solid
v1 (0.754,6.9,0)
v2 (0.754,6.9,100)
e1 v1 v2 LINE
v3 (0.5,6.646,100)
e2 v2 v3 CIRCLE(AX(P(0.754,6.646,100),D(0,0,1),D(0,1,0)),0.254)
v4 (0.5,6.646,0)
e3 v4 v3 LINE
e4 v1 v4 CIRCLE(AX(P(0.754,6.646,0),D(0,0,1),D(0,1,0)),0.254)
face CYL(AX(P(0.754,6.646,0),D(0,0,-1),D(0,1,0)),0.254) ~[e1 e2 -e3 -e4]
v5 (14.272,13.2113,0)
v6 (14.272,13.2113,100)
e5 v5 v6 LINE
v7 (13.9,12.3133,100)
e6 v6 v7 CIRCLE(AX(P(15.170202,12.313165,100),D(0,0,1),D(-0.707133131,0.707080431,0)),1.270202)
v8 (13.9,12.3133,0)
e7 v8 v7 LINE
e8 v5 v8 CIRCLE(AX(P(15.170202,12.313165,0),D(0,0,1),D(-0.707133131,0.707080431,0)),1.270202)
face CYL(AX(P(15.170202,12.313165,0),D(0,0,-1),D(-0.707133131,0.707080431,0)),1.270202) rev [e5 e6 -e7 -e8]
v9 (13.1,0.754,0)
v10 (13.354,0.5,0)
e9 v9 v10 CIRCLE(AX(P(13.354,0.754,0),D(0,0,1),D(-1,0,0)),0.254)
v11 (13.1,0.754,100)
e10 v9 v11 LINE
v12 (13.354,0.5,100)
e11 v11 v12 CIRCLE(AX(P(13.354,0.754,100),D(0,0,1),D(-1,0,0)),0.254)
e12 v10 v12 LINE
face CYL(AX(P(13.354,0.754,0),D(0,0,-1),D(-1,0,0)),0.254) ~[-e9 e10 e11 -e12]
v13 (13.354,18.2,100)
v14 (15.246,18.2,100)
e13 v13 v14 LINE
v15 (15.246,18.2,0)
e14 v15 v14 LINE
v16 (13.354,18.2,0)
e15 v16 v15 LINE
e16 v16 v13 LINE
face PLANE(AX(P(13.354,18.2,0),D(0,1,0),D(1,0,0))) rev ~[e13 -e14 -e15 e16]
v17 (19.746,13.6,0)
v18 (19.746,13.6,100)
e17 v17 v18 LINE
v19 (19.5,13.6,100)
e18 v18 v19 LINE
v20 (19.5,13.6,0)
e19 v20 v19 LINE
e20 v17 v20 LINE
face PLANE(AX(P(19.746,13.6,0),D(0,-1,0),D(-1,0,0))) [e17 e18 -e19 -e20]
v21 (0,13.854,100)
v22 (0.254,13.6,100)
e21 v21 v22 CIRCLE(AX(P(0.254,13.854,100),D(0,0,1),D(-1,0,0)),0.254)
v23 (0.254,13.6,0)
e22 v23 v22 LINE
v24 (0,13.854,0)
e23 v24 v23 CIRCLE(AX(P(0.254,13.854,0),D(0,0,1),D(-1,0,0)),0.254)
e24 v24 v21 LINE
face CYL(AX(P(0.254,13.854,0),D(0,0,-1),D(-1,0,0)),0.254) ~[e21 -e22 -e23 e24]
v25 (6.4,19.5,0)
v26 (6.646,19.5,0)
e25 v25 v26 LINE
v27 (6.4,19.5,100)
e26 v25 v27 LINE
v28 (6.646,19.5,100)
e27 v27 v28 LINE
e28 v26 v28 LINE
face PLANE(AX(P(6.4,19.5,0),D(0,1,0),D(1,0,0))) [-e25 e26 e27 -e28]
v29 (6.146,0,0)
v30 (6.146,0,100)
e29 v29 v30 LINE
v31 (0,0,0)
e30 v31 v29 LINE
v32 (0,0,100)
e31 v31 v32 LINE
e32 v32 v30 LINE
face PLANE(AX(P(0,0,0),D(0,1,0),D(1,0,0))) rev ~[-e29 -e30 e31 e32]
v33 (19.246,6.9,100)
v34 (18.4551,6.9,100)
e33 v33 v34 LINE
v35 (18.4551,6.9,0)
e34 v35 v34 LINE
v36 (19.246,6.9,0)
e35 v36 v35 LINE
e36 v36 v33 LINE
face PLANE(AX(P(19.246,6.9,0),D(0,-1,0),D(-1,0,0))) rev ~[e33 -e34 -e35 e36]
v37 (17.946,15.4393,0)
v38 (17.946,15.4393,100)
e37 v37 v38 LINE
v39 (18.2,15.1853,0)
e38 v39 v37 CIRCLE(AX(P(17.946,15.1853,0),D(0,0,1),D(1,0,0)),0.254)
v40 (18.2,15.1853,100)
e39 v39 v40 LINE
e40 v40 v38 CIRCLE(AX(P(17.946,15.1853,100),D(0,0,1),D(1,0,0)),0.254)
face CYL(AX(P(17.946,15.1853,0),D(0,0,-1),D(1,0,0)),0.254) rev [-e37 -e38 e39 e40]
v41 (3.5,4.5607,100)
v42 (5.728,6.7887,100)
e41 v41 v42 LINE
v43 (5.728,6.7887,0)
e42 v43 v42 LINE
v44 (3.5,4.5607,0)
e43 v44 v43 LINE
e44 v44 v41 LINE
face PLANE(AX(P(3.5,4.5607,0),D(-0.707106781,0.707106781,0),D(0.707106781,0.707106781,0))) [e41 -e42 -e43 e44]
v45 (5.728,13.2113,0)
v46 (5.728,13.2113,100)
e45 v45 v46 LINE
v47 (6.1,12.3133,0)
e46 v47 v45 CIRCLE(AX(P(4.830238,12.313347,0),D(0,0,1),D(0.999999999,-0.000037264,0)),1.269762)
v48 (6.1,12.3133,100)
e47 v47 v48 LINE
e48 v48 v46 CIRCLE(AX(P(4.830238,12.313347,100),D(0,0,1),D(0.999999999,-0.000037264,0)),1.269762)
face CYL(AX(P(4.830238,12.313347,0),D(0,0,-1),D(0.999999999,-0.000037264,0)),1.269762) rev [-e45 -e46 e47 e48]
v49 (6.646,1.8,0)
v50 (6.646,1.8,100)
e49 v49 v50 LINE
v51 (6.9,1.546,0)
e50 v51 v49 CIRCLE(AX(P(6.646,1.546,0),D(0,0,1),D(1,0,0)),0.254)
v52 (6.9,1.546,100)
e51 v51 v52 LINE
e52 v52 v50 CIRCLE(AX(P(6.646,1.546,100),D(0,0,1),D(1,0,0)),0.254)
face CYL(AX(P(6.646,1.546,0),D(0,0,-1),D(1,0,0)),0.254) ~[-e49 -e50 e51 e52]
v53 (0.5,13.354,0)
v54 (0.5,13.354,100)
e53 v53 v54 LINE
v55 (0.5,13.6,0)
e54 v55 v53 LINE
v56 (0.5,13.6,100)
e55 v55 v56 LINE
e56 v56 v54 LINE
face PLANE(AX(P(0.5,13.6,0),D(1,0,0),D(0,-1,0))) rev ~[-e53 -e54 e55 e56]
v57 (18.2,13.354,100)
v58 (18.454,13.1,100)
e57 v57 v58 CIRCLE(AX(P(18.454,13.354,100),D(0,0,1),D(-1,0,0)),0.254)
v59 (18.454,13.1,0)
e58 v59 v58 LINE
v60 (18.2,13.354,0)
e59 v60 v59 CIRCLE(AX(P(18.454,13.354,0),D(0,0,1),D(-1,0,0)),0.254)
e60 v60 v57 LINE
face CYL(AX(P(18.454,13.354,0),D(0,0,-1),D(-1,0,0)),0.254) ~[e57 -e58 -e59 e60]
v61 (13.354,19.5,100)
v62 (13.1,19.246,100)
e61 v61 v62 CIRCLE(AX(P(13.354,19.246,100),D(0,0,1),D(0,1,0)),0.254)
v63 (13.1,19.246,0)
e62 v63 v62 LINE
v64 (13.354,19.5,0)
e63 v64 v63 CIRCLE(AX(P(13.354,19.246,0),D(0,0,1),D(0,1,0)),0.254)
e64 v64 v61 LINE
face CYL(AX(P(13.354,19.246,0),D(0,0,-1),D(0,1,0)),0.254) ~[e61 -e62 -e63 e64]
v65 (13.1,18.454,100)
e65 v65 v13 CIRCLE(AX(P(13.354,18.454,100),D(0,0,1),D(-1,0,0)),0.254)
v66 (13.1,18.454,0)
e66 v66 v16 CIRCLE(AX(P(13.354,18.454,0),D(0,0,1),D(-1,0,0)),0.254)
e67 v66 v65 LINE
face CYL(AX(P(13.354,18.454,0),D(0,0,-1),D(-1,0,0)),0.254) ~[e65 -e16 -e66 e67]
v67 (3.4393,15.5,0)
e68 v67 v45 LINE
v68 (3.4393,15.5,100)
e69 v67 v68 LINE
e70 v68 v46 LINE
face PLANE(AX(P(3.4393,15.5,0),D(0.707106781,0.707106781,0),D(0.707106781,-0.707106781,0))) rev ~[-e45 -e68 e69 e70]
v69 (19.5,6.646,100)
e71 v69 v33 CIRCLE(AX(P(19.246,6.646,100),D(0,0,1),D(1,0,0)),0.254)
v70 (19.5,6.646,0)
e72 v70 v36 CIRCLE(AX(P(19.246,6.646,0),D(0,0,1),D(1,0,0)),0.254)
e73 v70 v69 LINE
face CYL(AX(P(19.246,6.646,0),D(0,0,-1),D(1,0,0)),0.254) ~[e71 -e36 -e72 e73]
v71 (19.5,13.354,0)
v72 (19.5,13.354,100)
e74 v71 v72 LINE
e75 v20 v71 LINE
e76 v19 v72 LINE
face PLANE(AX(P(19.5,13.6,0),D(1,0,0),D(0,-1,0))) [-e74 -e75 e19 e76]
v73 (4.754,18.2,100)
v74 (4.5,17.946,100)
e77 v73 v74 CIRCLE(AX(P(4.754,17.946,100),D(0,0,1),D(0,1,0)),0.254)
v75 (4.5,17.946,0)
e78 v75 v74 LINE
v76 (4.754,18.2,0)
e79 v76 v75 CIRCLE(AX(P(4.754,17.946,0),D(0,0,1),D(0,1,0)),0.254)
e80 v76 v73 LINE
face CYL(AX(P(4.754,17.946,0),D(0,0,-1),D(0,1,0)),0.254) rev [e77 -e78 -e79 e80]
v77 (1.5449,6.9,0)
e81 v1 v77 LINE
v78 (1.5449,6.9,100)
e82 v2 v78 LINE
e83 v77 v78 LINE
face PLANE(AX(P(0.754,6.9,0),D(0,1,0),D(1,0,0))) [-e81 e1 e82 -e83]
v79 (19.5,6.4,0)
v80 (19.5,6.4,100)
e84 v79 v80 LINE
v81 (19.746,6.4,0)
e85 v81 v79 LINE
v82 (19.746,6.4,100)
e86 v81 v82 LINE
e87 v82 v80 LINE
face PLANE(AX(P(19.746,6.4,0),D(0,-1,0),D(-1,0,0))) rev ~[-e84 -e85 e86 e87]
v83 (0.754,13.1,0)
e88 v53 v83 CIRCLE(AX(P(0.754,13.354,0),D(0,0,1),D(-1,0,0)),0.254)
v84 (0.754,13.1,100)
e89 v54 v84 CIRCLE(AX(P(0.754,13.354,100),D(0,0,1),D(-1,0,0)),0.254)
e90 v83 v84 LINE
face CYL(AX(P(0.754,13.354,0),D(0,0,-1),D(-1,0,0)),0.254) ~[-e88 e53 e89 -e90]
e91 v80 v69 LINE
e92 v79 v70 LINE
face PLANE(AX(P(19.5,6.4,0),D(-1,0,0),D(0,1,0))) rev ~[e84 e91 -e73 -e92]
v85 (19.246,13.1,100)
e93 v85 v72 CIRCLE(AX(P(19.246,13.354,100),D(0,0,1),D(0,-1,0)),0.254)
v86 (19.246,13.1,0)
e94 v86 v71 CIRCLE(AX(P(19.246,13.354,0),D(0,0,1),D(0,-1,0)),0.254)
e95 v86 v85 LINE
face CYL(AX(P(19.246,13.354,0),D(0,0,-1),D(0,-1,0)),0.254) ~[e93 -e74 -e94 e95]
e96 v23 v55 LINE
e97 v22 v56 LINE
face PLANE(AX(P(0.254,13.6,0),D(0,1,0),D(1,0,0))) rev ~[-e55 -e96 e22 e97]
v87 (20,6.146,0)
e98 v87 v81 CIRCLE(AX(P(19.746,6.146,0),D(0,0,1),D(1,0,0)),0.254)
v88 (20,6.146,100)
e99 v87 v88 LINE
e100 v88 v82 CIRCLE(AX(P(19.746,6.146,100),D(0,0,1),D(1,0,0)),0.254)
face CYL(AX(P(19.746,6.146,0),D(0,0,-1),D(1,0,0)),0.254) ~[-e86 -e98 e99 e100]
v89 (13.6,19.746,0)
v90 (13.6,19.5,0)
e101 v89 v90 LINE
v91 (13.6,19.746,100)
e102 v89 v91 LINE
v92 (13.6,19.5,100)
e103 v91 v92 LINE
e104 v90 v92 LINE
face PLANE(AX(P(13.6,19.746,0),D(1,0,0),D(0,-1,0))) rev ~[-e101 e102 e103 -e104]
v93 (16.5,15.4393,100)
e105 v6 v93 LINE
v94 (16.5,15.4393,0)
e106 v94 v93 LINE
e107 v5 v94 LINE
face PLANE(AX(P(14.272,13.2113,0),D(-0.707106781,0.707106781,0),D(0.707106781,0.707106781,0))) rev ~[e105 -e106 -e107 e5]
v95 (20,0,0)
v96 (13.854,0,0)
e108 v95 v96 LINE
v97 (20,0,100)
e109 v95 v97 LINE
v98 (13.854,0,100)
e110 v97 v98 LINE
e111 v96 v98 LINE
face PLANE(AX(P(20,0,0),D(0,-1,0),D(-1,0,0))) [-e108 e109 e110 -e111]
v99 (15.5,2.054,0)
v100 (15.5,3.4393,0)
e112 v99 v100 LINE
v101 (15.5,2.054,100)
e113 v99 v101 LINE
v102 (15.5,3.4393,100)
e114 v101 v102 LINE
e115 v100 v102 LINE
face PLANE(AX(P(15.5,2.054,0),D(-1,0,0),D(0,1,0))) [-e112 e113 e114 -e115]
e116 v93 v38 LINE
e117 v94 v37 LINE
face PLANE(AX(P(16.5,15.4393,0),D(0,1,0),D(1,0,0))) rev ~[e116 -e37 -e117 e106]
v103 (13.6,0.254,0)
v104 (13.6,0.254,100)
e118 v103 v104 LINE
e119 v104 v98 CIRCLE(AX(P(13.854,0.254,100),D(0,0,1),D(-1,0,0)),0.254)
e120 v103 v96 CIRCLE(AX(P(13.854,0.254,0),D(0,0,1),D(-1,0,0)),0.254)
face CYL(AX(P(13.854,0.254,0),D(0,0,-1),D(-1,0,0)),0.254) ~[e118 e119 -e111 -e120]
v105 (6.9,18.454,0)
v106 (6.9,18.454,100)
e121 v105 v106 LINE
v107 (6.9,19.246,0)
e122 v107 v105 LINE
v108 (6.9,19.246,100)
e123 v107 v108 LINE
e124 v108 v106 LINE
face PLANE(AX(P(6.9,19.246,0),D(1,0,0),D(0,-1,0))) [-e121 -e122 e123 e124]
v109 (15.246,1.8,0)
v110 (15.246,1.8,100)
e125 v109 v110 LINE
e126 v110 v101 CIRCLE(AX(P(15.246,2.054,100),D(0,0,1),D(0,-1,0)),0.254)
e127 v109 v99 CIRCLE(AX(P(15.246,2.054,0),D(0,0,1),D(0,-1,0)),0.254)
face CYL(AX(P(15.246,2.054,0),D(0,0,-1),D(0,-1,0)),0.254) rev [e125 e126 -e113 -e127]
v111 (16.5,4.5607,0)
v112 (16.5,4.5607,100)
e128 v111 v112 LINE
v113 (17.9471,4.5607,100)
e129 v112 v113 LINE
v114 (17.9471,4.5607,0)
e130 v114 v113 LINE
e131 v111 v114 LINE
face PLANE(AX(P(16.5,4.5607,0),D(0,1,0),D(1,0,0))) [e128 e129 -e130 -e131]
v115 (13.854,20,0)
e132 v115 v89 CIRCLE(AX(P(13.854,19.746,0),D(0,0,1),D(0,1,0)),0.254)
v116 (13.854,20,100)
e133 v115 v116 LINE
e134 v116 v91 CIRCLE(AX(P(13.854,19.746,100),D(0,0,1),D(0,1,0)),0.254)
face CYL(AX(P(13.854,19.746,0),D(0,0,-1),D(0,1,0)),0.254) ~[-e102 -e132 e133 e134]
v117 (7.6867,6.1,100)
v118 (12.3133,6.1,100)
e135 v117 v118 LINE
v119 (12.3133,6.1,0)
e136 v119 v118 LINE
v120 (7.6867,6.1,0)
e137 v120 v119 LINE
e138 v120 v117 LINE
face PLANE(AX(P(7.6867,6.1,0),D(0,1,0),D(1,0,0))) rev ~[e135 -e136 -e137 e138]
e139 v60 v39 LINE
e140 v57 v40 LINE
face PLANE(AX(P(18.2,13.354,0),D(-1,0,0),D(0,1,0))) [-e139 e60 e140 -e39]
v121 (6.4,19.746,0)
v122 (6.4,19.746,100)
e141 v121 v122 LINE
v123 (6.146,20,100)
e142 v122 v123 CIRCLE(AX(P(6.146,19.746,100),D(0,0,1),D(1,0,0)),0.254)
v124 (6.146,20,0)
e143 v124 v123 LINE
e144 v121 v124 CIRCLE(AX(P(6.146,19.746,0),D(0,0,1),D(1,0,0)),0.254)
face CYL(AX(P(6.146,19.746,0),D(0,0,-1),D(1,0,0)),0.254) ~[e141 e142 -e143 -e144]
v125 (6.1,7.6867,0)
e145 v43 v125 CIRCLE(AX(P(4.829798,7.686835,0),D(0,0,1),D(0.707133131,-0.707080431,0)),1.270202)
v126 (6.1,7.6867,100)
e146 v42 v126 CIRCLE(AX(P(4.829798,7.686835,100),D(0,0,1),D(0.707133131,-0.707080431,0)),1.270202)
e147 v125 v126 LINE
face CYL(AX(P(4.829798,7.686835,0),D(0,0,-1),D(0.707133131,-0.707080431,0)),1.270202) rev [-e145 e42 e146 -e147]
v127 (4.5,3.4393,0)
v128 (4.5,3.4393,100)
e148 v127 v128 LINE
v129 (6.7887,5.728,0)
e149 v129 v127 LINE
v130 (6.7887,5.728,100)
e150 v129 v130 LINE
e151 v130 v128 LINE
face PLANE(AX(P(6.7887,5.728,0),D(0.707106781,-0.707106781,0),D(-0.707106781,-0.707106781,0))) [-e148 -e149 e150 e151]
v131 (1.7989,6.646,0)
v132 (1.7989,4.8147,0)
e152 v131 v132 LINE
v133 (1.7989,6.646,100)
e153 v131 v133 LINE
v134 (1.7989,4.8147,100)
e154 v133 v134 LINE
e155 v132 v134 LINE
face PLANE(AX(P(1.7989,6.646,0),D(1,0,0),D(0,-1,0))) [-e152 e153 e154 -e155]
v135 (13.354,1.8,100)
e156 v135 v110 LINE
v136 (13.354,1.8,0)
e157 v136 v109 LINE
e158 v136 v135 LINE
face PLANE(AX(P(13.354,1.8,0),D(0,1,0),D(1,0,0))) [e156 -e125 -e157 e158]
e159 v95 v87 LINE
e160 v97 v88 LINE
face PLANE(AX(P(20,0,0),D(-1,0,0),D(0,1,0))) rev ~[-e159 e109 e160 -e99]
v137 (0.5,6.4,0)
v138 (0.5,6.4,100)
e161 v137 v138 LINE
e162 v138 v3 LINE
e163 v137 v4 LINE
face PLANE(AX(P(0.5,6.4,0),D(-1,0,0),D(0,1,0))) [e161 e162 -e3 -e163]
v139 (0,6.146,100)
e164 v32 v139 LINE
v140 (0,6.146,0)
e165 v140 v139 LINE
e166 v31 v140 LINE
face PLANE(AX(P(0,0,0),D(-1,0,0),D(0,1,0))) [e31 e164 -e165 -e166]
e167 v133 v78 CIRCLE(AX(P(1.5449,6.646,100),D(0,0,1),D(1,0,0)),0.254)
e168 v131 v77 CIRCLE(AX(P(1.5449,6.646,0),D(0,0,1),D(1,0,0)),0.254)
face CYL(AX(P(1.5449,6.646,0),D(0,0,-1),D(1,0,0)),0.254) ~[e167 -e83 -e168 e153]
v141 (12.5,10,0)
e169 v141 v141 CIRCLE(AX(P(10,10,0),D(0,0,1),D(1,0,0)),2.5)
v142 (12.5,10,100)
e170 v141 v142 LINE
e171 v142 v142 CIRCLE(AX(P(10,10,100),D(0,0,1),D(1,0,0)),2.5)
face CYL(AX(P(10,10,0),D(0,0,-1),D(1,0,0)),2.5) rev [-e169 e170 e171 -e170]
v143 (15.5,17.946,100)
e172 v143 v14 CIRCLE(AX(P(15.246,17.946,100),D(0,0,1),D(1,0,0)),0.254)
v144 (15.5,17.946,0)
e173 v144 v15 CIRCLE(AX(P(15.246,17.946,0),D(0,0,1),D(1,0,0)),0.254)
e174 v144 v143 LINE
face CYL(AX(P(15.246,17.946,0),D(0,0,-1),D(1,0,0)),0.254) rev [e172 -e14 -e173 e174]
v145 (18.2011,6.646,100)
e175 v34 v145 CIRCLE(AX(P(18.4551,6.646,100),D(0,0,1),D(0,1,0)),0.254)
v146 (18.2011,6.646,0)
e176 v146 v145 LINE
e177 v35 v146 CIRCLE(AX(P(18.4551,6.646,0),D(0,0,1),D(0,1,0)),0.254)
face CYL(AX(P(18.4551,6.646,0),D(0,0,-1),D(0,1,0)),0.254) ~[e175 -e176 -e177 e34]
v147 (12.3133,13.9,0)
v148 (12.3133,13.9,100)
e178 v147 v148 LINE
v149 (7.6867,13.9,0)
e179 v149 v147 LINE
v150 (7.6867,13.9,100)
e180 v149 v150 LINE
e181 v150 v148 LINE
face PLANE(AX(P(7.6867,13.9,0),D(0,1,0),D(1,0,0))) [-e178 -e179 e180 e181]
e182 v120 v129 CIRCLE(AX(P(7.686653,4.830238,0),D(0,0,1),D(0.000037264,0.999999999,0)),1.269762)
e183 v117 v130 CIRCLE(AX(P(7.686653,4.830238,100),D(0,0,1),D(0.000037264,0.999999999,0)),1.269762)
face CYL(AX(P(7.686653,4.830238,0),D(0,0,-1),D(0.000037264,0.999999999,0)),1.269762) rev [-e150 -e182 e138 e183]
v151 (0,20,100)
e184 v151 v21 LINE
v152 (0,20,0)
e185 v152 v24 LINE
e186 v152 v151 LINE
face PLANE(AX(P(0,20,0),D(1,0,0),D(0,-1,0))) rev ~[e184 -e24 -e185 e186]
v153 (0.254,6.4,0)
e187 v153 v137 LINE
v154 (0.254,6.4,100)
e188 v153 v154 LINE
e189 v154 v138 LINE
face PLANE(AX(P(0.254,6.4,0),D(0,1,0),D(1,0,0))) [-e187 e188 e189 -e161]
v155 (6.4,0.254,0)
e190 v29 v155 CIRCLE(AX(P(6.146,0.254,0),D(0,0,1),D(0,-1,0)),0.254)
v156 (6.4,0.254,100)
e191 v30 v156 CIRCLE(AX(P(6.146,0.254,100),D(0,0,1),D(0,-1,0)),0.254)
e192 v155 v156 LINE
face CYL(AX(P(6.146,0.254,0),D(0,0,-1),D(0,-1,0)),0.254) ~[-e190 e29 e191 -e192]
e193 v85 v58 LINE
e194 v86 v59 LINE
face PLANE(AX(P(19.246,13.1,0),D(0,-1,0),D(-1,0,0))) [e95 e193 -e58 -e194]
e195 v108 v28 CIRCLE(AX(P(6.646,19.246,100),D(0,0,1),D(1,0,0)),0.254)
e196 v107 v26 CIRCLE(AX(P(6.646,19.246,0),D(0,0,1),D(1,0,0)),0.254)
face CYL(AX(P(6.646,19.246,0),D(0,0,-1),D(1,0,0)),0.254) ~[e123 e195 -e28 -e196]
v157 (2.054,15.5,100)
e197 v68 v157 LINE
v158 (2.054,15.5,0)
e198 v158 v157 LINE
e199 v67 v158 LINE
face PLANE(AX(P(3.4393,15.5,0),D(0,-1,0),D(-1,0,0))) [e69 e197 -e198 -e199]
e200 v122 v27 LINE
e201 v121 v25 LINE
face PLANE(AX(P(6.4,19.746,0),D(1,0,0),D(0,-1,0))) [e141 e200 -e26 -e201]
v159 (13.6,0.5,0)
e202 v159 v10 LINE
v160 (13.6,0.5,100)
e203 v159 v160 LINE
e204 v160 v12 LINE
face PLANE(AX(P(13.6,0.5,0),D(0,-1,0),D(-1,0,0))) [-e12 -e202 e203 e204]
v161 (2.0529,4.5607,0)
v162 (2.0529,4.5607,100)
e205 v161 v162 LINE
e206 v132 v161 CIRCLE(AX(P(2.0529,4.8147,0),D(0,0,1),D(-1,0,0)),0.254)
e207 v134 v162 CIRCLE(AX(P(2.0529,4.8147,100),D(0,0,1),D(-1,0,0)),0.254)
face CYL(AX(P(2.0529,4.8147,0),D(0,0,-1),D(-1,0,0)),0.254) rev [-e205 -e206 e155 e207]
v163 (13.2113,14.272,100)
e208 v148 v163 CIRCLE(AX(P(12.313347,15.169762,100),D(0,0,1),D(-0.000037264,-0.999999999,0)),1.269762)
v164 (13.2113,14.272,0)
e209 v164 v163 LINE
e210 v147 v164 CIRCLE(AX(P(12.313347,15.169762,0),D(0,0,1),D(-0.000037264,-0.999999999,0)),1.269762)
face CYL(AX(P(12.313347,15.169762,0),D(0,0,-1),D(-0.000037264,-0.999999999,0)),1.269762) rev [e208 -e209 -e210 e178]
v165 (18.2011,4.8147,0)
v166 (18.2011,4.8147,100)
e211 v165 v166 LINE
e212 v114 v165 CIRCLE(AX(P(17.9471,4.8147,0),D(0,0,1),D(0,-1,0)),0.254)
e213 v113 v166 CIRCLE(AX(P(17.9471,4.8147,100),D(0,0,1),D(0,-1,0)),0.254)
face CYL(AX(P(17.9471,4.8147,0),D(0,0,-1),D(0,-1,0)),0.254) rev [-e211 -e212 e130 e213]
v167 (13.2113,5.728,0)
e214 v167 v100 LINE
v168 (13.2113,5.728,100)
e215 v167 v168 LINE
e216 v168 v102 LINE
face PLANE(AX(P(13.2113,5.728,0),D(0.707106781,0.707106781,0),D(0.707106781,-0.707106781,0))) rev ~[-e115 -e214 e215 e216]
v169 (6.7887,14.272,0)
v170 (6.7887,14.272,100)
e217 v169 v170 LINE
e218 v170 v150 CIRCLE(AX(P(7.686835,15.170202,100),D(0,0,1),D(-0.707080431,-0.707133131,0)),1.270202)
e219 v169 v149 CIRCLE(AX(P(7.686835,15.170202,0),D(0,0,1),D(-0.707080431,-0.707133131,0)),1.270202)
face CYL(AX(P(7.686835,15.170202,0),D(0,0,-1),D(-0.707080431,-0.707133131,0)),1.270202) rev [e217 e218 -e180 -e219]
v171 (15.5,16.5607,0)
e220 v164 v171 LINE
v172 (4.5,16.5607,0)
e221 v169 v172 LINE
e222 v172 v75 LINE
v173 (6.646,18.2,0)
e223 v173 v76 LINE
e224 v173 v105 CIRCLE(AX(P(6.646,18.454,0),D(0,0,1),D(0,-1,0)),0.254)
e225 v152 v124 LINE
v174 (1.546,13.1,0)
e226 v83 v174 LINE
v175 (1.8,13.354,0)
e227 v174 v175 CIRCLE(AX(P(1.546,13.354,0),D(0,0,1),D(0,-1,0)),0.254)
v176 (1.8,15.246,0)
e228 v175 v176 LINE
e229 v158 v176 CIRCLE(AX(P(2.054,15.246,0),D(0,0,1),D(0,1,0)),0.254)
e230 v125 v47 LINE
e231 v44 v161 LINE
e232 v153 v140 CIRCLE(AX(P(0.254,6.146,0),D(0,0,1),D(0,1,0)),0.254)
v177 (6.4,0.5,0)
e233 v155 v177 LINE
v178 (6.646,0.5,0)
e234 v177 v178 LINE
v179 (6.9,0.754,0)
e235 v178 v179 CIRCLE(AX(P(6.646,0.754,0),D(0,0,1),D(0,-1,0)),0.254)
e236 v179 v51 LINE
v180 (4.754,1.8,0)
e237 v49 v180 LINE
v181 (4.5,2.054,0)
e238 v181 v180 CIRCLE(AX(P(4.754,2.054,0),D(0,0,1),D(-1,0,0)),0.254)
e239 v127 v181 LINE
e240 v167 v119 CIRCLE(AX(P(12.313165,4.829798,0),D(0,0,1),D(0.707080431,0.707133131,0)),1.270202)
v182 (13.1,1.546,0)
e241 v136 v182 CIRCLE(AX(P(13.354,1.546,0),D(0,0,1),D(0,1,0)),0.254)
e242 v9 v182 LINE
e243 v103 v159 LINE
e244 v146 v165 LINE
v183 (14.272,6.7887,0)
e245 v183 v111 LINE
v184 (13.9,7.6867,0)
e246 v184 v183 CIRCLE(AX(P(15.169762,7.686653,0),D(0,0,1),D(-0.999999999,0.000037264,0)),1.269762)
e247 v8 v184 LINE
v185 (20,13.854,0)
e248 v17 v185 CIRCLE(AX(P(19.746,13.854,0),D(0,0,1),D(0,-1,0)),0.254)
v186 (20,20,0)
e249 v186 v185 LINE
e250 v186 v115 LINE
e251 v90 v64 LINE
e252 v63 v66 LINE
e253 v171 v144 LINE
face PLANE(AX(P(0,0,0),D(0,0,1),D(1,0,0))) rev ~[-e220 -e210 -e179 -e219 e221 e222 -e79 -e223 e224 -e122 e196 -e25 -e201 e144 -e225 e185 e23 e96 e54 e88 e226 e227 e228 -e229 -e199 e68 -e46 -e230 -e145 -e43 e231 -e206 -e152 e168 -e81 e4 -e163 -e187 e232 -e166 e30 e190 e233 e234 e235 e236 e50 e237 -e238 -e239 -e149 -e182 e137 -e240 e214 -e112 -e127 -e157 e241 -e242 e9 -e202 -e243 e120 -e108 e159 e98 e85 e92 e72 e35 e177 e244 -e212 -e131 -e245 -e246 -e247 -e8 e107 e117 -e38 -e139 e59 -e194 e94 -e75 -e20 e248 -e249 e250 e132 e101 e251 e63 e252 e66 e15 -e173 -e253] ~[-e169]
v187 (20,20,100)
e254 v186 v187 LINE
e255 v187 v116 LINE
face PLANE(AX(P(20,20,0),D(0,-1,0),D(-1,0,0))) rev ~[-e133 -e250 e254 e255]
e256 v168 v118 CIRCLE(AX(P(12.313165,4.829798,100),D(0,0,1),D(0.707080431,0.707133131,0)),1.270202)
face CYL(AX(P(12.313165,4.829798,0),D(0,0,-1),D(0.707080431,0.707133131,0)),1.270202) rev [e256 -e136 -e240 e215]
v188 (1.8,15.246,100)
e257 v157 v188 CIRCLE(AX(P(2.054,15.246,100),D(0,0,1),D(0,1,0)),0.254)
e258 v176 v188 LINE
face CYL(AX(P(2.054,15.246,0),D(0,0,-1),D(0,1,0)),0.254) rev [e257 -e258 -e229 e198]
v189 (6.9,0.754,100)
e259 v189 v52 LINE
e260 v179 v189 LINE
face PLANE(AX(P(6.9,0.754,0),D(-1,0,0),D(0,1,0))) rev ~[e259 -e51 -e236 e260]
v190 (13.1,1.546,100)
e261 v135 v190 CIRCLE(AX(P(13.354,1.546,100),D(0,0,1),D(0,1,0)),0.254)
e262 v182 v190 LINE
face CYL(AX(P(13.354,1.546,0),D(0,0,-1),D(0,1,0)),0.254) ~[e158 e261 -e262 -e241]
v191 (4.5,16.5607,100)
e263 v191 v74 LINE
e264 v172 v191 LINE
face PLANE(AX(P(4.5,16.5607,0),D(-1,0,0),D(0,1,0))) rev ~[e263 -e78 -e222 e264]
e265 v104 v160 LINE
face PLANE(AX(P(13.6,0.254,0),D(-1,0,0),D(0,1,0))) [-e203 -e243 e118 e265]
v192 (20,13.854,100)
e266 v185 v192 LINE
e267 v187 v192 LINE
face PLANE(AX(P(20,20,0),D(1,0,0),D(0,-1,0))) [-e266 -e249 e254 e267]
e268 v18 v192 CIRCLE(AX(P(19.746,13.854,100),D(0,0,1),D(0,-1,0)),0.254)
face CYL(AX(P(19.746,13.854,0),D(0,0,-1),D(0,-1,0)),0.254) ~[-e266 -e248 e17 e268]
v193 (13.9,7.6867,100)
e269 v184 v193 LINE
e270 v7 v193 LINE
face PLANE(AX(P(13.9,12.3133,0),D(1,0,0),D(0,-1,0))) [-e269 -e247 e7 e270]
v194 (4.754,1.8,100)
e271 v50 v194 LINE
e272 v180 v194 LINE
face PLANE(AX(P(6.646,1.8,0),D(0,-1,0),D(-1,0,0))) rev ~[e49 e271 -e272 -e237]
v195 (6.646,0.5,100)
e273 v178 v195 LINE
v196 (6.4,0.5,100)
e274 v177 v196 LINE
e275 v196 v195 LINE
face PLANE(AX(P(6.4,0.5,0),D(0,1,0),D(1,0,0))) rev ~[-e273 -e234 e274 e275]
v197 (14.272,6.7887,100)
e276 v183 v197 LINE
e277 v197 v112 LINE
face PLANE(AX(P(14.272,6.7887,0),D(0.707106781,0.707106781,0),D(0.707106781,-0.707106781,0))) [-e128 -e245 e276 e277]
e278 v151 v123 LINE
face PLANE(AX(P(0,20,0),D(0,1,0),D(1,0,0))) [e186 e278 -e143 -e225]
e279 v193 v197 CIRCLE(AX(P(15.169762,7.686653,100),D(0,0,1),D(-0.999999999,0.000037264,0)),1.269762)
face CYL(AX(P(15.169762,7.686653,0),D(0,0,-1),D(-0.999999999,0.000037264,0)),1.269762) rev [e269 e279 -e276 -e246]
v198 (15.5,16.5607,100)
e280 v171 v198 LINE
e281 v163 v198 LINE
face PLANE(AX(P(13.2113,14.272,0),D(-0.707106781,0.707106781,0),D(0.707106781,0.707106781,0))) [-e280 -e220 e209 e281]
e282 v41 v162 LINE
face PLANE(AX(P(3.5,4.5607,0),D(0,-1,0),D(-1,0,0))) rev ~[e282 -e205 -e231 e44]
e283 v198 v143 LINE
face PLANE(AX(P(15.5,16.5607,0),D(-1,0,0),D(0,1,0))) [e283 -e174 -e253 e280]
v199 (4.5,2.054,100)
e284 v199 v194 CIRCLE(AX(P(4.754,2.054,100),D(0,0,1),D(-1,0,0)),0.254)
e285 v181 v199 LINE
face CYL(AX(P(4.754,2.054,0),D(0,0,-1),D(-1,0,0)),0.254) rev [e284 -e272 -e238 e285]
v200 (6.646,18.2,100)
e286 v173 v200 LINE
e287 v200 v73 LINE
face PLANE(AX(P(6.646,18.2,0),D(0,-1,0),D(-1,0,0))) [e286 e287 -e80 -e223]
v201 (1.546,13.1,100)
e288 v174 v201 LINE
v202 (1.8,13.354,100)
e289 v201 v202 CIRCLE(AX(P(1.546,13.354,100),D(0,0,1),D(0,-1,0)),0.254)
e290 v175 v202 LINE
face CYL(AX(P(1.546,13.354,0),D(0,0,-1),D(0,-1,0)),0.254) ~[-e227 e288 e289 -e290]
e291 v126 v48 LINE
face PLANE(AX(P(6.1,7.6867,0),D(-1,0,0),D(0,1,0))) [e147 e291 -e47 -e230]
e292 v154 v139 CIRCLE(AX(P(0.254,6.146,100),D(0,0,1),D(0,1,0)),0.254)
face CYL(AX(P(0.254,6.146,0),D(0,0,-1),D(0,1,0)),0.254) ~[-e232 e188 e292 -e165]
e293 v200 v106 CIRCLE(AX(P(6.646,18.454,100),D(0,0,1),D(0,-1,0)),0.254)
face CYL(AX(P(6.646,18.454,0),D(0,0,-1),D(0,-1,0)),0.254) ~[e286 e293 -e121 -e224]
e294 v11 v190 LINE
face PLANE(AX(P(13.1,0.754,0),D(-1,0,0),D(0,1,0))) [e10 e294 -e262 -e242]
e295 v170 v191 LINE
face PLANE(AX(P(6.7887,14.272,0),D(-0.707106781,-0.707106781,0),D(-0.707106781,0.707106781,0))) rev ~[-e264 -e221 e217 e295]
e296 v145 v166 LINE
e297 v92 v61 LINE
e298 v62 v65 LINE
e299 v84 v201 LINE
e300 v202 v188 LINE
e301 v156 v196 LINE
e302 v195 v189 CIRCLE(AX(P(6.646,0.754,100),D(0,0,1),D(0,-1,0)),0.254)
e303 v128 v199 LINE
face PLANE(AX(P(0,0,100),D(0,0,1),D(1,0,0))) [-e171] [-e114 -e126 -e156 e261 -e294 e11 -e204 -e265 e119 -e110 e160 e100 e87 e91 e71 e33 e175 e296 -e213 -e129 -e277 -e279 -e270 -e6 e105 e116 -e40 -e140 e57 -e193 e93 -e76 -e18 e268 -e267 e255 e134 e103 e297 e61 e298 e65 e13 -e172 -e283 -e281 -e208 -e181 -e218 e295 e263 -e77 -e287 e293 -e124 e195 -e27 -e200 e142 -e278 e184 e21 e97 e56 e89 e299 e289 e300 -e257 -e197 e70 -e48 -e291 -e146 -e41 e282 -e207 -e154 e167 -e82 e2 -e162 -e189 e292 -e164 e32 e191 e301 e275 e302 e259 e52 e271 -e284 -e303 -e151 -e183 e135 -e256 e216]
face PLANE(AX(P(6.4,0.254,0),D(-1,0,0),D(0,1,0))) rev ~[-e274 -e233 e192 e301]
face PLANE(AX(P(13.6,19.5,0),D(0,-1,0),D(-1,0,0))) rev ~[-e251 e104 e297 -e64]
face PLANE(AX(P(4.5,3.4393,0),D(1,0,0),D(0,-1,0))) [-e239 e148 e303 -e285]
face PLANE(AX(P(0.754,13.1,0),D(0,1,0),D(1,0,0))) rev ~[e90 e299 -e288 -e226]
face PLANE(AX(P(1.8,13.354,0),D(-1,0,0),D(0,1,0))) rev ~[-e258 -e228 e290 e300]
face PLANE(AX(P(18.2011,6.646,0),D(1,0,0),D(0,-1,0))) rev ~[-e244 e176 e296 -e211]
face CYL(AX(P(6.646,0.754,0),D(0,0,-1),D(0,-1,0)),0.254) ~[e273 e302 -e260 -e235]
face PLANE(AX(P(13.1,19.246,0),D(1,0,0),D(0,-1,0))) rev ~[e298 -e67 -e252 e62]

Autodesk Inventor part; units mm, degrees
ref_plane "YZ Plane" through (0, 0, 0) normal (1, 0, 0) x (0, 1, 0)
ref_plane "XZ Plane" through (0, 0, 0) normal (0, 1, 0) x (-1, 0, 0)
ref_plane "XY Plane" through (0, 0, 0) normal (0, 0, 1) x (1, 0, 0)
sketch "Sketch1" plane through (0, 0, 0) normal (0, 0, 1) x (1, 0, 0)
  line L0 (0, 0) -> (6.146, 0)
  line L1 (6.4, 0.254) -> (6.4, 0.5)
  line L2 (6.4, 0.5) -> (6.646, 0.5)
  line L3 (6.9, 0.754) -> (6.9, 1.546)
  line L4 (0, 0) -> (0, 6.146)
  line L5 (0.254, 6.4) -> (0.5, 6.4)
  line L6 (0.5, 6.4) -> (0.5, 6.646)
  line L7 (0.754, 6.9) -> (1.5449, 6.9)
  line L8 (1.7989, 6.646) -> (1.7989, 4.8147)
  line L9 (6.646, 1.8) -> (4.754, 1.8)
  line L10 (20, 0) -> (20, 6.146)
  line L11 (19.746, 6.4) -> (19.5, 6.4)
  line L12 (19.5, 6.4) -> (19.5, 6.646)
  line L13 (19.246, 6.9) -> (18.4551, 6.9)
  line L14 (18.2011, 6.646) -> (18.2011, 4.8147)
  line L15 (20, 0) -> (13.854, 0)
  line L16 (13.6, 0.254) -> (13.6, 0.5)
  circle A0 centre (10, 10) radius 2.5
  line L17 (20, 20) -> (13.854, 20)
  line L18 (20, 20) -> (20, 13.854)
  line L19 (19.746, 13.6) -> (19.5, 13.6)
  line L20 (19.5, 13.6) -> (19.5, 13.354)
  line L21 (19.246, 13.1) -> (18.454, 13.1)
  line L22 (13.6, 19.746) -> (13.6, 19.5)
  line L23 (13.6, 19.5) -> (13.354, 19.5)
  line L24 (13.1, 19.246) -> (13.1, 18.454)
  line L25 (13.354, 18.2) -> (15.246, 18.2)
  line L26 (0, 20) -> (6.146, 20)
  line L27 (6.4, 19.746) -> (6.4, 19.5)
  line L28 (6.4, 19.5) -> (6.646, 19.5)
  line L29 (6.9, 19.246) -> (6.9, 18.454)
  line L30 (6.646, 18.2) -> (4.754, 18.2)
  line L31 (0, 20) -> (0, 13.854)
  line L32 (0.254, 13.6) -> (0.5, 13.6)
  line L33 (0.5, 13.6) -> (0.5, 13.354)
  line L34 (0.754, 13.1) -> (1.546, 13.1)
  line L35 (1.8, 13.354) -> (1.8, 15.246)
  line L36 (3.4393, 15.5) -> (2.054, 15.5)
  line L37 (4.5, 16.5607) -> (4.5, 17.946)
  line L38 (16.5, 4.5607) -> (17.9471, 4.5607)
  line L39 (13.6, 0.5) -> (13.354, 0.5)
  line L40 (13.1, 0.754) -> (13.1, 1.546)
  line L41 (13.354, 1.8) -> (15.246, 1.8)
  line L42 (15.5, 2.054) -> (15.5, 3.4393)
  line L43 (15.5, 16.5607) -> (15.5, 17.946)
  line L44 (16.5, 15.4393) -> (17.946, 15.4393)
  line L45 (4.5, 3.4393) -> (4.5, 2.054)
  line L46 (3.5, 4.5607) -> (2.0529, 4.5607)
  line L47 (6.1, 7.6867) -> (6.1, 12.3133)
  line L48 (3.5, 4.5607) -> (5.728, 6.7887)
  line L49 (3.4393, 15.5) -> (5.728, 13.2113)
  line L50 (7.6867, 13.9) -> (12.3133, 13.9)
  line L51 (6.7887, 14.272) -> (4.5, 16.5607)
  line L52 (13.2113, 14.272) -> (15.5, 16.5607)
  line L53 (13.9, 12.3133) -> (13.9, 7.6867)
  line L54 (14.272, 6.7887) -> (16.5, 4.5607)
  line L55 (14.272, 13.2113) -> (16.5, 15.4393)
  line L56 (7.6867, 6.1) -> (12.3133, 6.1)
  line L57 (6.7887, 5.728) -> (4.5, 3.4393)
  line L58 (13.2113, 5.728) -> (15.5, 3.4393)
  arc A1 (6.9, 19.246) -> (6.646, 19.5) centre (6.646, 19.246) ccw
  arc A2 (6.4, 19.746) -> (6.146, 20) centre (6.146, 19.746) ccw
  arc A3 (6.646, 18.2) -> (6.9, 18.454) centre (6.646, 18.454) ccw
  arc A4 (4.754, 18.2) -> (4.5, 17.946) centre (4.754, 17.946) ccw
  arc A5 (13.1, 18.454) -> (13.354, 18.2) centre (13.354, 18.454) ccw
  arc A6 (13.354, 19.5) -> (13.1, 19.246) centre (13.354, 19.246) ccw
  arc A7 (13.854, 20) -> (13.6, 19.746) centre (13.854, 19.746) ccw
  arc A8 (15.5, 17.946) -> (15.246, 18.2) centre (15.246, 17.946) ccw
  arc A9 (2.054, 15.5) -> (1.8, 15.246) centre (2.054, 15.246) ccw
  arc A10 (0.5, 13.354) -> (0.754, 13.1) centre (0.754, 13.354) ccw
  arc A11 (0, 13.854) -> (0.254, 13.6) centre (0.254, 13.854) ccw
  arc A12 (1.546, 13.1) -> (1.8, 13.354) centre (1.546, 13.354) ccw
  arc A13 (0.254, 6.4) -> (0, 6.146) centre (0.254, 6.146) ccw
  arc A14 (0.754, 6.9) -> (0.5, 6.646) centre (0.754, 6.646) ccw
  arc A15 (1.7989, 6.646) -> (1.5449, 6.9) centre (1.5449, 6.646) ccw
  arc A16 (1.7989, 4.8147) -> (2.0529, 4.5607) centre (2.0529, 4.8147) ccw
  arc A17 (19.746, 13.6) -> (20, 13.854) centre (19.746, 13.854) ccw
  arc A18 (19.246, 13.1) -> (19.5, 13.354) centre (19.246, 13.354) ccw
  arc A19 (18.2, 13.354) -> (18.454, 13.1) centre (18.454, 13.354) ccw
  line L59 (18.2, 13.354) -> (18.2, 15.1853)
  arc A20 (18.2, 15.1853) -> (17.946, 15.4393) centre (17.946, 15.1853) ccw
  arc A21 (20, 6.146) -> (19.746, 6.4) centre (19.746, 6.146) ccw
  arc A22 (19.5, 6.646) -> (19.246, 6.9) centre (19.246, 6.646) ccw
  arc A23 (18.4551, 6.9) -> (18.2011, 6.646) centre (18.4551, 6.646) ccw
  arc A24 (17.9471, 4.5607) -> (18.2011, 4.8147) centre (17.9471, 4.8147) ccw
  arc A25 (13.6, 0.254) -> (13.854, 0) centre (13.854, 0.254) ccw
  arc A26 (13.1, 0.754) -> (13.354, 0.5) centre (13.354, 0.754) ccw
  arc A27 (13.354, 1.8) -> (13.1, 1.546) centre (13.354, 1.546) ccw
  arc A28 (15.246, 1.8) -> (15.5, 2.054) centre (15.246, 2.054) ccw
  arc A29 (6.146, 0) -> (6.4, 0.254) centre (6.146, 0.254) ccw
  arc A30 (6.646, 0.5) -> (6.9, 0.754) centre (6.646, 0.754) ccw
  arc A31 (6.9, 1.546) -> (6.646, 1.8) centre (6.646, 1.546) ccw
  arc A32 (4.5, 2.054) -> (4.754, 1.8) centre (4.754, 2.054) ccw
  arc A33 (6.7887, 14.272) -> (7.6867, 13.9) centre (7.6867, 15.17) ccw
  arc A34 (12.3133, 13.9) -> (13.2113, 14.272) centre (12.3133, 15.17) ccw
  arc A35 (6.1, 12.3133) -> (5.728, 13.2113) centre (4.83, 12.3133) ccw
  arc A36 (5.728, 6.7887) -> (6.1, 7.6867) centre (4.83, 7.6867) ccw
  arc A37 (7.6867, 6.1) -> (6.7887, 5.728) centre (7.6867, 4.83) ccw
  arc A38 (13.2113, 5.728) -> (12.3133, 6.1) centre (12.3133, 4.83) ccw
  arc A39 (13.9, 7.6867) -> (14.272, 6.7887) centre (15.17, 7.6867) ccw
  arc A40 (14.272, 13.2113) -> (13.9, 12.3133) centre (15.17, 12.3133) ccw
  point P0 (20, 6.4)
  point P1 (19.5, 6.9)
  point P2 (18.2011, 6.9)
  dimension "d59" = 1.27
extrude "Extrusion1" add sketch "Sketch1" along normal blind 100
properties part number "T slot beam 20mm Dist_40mm"
